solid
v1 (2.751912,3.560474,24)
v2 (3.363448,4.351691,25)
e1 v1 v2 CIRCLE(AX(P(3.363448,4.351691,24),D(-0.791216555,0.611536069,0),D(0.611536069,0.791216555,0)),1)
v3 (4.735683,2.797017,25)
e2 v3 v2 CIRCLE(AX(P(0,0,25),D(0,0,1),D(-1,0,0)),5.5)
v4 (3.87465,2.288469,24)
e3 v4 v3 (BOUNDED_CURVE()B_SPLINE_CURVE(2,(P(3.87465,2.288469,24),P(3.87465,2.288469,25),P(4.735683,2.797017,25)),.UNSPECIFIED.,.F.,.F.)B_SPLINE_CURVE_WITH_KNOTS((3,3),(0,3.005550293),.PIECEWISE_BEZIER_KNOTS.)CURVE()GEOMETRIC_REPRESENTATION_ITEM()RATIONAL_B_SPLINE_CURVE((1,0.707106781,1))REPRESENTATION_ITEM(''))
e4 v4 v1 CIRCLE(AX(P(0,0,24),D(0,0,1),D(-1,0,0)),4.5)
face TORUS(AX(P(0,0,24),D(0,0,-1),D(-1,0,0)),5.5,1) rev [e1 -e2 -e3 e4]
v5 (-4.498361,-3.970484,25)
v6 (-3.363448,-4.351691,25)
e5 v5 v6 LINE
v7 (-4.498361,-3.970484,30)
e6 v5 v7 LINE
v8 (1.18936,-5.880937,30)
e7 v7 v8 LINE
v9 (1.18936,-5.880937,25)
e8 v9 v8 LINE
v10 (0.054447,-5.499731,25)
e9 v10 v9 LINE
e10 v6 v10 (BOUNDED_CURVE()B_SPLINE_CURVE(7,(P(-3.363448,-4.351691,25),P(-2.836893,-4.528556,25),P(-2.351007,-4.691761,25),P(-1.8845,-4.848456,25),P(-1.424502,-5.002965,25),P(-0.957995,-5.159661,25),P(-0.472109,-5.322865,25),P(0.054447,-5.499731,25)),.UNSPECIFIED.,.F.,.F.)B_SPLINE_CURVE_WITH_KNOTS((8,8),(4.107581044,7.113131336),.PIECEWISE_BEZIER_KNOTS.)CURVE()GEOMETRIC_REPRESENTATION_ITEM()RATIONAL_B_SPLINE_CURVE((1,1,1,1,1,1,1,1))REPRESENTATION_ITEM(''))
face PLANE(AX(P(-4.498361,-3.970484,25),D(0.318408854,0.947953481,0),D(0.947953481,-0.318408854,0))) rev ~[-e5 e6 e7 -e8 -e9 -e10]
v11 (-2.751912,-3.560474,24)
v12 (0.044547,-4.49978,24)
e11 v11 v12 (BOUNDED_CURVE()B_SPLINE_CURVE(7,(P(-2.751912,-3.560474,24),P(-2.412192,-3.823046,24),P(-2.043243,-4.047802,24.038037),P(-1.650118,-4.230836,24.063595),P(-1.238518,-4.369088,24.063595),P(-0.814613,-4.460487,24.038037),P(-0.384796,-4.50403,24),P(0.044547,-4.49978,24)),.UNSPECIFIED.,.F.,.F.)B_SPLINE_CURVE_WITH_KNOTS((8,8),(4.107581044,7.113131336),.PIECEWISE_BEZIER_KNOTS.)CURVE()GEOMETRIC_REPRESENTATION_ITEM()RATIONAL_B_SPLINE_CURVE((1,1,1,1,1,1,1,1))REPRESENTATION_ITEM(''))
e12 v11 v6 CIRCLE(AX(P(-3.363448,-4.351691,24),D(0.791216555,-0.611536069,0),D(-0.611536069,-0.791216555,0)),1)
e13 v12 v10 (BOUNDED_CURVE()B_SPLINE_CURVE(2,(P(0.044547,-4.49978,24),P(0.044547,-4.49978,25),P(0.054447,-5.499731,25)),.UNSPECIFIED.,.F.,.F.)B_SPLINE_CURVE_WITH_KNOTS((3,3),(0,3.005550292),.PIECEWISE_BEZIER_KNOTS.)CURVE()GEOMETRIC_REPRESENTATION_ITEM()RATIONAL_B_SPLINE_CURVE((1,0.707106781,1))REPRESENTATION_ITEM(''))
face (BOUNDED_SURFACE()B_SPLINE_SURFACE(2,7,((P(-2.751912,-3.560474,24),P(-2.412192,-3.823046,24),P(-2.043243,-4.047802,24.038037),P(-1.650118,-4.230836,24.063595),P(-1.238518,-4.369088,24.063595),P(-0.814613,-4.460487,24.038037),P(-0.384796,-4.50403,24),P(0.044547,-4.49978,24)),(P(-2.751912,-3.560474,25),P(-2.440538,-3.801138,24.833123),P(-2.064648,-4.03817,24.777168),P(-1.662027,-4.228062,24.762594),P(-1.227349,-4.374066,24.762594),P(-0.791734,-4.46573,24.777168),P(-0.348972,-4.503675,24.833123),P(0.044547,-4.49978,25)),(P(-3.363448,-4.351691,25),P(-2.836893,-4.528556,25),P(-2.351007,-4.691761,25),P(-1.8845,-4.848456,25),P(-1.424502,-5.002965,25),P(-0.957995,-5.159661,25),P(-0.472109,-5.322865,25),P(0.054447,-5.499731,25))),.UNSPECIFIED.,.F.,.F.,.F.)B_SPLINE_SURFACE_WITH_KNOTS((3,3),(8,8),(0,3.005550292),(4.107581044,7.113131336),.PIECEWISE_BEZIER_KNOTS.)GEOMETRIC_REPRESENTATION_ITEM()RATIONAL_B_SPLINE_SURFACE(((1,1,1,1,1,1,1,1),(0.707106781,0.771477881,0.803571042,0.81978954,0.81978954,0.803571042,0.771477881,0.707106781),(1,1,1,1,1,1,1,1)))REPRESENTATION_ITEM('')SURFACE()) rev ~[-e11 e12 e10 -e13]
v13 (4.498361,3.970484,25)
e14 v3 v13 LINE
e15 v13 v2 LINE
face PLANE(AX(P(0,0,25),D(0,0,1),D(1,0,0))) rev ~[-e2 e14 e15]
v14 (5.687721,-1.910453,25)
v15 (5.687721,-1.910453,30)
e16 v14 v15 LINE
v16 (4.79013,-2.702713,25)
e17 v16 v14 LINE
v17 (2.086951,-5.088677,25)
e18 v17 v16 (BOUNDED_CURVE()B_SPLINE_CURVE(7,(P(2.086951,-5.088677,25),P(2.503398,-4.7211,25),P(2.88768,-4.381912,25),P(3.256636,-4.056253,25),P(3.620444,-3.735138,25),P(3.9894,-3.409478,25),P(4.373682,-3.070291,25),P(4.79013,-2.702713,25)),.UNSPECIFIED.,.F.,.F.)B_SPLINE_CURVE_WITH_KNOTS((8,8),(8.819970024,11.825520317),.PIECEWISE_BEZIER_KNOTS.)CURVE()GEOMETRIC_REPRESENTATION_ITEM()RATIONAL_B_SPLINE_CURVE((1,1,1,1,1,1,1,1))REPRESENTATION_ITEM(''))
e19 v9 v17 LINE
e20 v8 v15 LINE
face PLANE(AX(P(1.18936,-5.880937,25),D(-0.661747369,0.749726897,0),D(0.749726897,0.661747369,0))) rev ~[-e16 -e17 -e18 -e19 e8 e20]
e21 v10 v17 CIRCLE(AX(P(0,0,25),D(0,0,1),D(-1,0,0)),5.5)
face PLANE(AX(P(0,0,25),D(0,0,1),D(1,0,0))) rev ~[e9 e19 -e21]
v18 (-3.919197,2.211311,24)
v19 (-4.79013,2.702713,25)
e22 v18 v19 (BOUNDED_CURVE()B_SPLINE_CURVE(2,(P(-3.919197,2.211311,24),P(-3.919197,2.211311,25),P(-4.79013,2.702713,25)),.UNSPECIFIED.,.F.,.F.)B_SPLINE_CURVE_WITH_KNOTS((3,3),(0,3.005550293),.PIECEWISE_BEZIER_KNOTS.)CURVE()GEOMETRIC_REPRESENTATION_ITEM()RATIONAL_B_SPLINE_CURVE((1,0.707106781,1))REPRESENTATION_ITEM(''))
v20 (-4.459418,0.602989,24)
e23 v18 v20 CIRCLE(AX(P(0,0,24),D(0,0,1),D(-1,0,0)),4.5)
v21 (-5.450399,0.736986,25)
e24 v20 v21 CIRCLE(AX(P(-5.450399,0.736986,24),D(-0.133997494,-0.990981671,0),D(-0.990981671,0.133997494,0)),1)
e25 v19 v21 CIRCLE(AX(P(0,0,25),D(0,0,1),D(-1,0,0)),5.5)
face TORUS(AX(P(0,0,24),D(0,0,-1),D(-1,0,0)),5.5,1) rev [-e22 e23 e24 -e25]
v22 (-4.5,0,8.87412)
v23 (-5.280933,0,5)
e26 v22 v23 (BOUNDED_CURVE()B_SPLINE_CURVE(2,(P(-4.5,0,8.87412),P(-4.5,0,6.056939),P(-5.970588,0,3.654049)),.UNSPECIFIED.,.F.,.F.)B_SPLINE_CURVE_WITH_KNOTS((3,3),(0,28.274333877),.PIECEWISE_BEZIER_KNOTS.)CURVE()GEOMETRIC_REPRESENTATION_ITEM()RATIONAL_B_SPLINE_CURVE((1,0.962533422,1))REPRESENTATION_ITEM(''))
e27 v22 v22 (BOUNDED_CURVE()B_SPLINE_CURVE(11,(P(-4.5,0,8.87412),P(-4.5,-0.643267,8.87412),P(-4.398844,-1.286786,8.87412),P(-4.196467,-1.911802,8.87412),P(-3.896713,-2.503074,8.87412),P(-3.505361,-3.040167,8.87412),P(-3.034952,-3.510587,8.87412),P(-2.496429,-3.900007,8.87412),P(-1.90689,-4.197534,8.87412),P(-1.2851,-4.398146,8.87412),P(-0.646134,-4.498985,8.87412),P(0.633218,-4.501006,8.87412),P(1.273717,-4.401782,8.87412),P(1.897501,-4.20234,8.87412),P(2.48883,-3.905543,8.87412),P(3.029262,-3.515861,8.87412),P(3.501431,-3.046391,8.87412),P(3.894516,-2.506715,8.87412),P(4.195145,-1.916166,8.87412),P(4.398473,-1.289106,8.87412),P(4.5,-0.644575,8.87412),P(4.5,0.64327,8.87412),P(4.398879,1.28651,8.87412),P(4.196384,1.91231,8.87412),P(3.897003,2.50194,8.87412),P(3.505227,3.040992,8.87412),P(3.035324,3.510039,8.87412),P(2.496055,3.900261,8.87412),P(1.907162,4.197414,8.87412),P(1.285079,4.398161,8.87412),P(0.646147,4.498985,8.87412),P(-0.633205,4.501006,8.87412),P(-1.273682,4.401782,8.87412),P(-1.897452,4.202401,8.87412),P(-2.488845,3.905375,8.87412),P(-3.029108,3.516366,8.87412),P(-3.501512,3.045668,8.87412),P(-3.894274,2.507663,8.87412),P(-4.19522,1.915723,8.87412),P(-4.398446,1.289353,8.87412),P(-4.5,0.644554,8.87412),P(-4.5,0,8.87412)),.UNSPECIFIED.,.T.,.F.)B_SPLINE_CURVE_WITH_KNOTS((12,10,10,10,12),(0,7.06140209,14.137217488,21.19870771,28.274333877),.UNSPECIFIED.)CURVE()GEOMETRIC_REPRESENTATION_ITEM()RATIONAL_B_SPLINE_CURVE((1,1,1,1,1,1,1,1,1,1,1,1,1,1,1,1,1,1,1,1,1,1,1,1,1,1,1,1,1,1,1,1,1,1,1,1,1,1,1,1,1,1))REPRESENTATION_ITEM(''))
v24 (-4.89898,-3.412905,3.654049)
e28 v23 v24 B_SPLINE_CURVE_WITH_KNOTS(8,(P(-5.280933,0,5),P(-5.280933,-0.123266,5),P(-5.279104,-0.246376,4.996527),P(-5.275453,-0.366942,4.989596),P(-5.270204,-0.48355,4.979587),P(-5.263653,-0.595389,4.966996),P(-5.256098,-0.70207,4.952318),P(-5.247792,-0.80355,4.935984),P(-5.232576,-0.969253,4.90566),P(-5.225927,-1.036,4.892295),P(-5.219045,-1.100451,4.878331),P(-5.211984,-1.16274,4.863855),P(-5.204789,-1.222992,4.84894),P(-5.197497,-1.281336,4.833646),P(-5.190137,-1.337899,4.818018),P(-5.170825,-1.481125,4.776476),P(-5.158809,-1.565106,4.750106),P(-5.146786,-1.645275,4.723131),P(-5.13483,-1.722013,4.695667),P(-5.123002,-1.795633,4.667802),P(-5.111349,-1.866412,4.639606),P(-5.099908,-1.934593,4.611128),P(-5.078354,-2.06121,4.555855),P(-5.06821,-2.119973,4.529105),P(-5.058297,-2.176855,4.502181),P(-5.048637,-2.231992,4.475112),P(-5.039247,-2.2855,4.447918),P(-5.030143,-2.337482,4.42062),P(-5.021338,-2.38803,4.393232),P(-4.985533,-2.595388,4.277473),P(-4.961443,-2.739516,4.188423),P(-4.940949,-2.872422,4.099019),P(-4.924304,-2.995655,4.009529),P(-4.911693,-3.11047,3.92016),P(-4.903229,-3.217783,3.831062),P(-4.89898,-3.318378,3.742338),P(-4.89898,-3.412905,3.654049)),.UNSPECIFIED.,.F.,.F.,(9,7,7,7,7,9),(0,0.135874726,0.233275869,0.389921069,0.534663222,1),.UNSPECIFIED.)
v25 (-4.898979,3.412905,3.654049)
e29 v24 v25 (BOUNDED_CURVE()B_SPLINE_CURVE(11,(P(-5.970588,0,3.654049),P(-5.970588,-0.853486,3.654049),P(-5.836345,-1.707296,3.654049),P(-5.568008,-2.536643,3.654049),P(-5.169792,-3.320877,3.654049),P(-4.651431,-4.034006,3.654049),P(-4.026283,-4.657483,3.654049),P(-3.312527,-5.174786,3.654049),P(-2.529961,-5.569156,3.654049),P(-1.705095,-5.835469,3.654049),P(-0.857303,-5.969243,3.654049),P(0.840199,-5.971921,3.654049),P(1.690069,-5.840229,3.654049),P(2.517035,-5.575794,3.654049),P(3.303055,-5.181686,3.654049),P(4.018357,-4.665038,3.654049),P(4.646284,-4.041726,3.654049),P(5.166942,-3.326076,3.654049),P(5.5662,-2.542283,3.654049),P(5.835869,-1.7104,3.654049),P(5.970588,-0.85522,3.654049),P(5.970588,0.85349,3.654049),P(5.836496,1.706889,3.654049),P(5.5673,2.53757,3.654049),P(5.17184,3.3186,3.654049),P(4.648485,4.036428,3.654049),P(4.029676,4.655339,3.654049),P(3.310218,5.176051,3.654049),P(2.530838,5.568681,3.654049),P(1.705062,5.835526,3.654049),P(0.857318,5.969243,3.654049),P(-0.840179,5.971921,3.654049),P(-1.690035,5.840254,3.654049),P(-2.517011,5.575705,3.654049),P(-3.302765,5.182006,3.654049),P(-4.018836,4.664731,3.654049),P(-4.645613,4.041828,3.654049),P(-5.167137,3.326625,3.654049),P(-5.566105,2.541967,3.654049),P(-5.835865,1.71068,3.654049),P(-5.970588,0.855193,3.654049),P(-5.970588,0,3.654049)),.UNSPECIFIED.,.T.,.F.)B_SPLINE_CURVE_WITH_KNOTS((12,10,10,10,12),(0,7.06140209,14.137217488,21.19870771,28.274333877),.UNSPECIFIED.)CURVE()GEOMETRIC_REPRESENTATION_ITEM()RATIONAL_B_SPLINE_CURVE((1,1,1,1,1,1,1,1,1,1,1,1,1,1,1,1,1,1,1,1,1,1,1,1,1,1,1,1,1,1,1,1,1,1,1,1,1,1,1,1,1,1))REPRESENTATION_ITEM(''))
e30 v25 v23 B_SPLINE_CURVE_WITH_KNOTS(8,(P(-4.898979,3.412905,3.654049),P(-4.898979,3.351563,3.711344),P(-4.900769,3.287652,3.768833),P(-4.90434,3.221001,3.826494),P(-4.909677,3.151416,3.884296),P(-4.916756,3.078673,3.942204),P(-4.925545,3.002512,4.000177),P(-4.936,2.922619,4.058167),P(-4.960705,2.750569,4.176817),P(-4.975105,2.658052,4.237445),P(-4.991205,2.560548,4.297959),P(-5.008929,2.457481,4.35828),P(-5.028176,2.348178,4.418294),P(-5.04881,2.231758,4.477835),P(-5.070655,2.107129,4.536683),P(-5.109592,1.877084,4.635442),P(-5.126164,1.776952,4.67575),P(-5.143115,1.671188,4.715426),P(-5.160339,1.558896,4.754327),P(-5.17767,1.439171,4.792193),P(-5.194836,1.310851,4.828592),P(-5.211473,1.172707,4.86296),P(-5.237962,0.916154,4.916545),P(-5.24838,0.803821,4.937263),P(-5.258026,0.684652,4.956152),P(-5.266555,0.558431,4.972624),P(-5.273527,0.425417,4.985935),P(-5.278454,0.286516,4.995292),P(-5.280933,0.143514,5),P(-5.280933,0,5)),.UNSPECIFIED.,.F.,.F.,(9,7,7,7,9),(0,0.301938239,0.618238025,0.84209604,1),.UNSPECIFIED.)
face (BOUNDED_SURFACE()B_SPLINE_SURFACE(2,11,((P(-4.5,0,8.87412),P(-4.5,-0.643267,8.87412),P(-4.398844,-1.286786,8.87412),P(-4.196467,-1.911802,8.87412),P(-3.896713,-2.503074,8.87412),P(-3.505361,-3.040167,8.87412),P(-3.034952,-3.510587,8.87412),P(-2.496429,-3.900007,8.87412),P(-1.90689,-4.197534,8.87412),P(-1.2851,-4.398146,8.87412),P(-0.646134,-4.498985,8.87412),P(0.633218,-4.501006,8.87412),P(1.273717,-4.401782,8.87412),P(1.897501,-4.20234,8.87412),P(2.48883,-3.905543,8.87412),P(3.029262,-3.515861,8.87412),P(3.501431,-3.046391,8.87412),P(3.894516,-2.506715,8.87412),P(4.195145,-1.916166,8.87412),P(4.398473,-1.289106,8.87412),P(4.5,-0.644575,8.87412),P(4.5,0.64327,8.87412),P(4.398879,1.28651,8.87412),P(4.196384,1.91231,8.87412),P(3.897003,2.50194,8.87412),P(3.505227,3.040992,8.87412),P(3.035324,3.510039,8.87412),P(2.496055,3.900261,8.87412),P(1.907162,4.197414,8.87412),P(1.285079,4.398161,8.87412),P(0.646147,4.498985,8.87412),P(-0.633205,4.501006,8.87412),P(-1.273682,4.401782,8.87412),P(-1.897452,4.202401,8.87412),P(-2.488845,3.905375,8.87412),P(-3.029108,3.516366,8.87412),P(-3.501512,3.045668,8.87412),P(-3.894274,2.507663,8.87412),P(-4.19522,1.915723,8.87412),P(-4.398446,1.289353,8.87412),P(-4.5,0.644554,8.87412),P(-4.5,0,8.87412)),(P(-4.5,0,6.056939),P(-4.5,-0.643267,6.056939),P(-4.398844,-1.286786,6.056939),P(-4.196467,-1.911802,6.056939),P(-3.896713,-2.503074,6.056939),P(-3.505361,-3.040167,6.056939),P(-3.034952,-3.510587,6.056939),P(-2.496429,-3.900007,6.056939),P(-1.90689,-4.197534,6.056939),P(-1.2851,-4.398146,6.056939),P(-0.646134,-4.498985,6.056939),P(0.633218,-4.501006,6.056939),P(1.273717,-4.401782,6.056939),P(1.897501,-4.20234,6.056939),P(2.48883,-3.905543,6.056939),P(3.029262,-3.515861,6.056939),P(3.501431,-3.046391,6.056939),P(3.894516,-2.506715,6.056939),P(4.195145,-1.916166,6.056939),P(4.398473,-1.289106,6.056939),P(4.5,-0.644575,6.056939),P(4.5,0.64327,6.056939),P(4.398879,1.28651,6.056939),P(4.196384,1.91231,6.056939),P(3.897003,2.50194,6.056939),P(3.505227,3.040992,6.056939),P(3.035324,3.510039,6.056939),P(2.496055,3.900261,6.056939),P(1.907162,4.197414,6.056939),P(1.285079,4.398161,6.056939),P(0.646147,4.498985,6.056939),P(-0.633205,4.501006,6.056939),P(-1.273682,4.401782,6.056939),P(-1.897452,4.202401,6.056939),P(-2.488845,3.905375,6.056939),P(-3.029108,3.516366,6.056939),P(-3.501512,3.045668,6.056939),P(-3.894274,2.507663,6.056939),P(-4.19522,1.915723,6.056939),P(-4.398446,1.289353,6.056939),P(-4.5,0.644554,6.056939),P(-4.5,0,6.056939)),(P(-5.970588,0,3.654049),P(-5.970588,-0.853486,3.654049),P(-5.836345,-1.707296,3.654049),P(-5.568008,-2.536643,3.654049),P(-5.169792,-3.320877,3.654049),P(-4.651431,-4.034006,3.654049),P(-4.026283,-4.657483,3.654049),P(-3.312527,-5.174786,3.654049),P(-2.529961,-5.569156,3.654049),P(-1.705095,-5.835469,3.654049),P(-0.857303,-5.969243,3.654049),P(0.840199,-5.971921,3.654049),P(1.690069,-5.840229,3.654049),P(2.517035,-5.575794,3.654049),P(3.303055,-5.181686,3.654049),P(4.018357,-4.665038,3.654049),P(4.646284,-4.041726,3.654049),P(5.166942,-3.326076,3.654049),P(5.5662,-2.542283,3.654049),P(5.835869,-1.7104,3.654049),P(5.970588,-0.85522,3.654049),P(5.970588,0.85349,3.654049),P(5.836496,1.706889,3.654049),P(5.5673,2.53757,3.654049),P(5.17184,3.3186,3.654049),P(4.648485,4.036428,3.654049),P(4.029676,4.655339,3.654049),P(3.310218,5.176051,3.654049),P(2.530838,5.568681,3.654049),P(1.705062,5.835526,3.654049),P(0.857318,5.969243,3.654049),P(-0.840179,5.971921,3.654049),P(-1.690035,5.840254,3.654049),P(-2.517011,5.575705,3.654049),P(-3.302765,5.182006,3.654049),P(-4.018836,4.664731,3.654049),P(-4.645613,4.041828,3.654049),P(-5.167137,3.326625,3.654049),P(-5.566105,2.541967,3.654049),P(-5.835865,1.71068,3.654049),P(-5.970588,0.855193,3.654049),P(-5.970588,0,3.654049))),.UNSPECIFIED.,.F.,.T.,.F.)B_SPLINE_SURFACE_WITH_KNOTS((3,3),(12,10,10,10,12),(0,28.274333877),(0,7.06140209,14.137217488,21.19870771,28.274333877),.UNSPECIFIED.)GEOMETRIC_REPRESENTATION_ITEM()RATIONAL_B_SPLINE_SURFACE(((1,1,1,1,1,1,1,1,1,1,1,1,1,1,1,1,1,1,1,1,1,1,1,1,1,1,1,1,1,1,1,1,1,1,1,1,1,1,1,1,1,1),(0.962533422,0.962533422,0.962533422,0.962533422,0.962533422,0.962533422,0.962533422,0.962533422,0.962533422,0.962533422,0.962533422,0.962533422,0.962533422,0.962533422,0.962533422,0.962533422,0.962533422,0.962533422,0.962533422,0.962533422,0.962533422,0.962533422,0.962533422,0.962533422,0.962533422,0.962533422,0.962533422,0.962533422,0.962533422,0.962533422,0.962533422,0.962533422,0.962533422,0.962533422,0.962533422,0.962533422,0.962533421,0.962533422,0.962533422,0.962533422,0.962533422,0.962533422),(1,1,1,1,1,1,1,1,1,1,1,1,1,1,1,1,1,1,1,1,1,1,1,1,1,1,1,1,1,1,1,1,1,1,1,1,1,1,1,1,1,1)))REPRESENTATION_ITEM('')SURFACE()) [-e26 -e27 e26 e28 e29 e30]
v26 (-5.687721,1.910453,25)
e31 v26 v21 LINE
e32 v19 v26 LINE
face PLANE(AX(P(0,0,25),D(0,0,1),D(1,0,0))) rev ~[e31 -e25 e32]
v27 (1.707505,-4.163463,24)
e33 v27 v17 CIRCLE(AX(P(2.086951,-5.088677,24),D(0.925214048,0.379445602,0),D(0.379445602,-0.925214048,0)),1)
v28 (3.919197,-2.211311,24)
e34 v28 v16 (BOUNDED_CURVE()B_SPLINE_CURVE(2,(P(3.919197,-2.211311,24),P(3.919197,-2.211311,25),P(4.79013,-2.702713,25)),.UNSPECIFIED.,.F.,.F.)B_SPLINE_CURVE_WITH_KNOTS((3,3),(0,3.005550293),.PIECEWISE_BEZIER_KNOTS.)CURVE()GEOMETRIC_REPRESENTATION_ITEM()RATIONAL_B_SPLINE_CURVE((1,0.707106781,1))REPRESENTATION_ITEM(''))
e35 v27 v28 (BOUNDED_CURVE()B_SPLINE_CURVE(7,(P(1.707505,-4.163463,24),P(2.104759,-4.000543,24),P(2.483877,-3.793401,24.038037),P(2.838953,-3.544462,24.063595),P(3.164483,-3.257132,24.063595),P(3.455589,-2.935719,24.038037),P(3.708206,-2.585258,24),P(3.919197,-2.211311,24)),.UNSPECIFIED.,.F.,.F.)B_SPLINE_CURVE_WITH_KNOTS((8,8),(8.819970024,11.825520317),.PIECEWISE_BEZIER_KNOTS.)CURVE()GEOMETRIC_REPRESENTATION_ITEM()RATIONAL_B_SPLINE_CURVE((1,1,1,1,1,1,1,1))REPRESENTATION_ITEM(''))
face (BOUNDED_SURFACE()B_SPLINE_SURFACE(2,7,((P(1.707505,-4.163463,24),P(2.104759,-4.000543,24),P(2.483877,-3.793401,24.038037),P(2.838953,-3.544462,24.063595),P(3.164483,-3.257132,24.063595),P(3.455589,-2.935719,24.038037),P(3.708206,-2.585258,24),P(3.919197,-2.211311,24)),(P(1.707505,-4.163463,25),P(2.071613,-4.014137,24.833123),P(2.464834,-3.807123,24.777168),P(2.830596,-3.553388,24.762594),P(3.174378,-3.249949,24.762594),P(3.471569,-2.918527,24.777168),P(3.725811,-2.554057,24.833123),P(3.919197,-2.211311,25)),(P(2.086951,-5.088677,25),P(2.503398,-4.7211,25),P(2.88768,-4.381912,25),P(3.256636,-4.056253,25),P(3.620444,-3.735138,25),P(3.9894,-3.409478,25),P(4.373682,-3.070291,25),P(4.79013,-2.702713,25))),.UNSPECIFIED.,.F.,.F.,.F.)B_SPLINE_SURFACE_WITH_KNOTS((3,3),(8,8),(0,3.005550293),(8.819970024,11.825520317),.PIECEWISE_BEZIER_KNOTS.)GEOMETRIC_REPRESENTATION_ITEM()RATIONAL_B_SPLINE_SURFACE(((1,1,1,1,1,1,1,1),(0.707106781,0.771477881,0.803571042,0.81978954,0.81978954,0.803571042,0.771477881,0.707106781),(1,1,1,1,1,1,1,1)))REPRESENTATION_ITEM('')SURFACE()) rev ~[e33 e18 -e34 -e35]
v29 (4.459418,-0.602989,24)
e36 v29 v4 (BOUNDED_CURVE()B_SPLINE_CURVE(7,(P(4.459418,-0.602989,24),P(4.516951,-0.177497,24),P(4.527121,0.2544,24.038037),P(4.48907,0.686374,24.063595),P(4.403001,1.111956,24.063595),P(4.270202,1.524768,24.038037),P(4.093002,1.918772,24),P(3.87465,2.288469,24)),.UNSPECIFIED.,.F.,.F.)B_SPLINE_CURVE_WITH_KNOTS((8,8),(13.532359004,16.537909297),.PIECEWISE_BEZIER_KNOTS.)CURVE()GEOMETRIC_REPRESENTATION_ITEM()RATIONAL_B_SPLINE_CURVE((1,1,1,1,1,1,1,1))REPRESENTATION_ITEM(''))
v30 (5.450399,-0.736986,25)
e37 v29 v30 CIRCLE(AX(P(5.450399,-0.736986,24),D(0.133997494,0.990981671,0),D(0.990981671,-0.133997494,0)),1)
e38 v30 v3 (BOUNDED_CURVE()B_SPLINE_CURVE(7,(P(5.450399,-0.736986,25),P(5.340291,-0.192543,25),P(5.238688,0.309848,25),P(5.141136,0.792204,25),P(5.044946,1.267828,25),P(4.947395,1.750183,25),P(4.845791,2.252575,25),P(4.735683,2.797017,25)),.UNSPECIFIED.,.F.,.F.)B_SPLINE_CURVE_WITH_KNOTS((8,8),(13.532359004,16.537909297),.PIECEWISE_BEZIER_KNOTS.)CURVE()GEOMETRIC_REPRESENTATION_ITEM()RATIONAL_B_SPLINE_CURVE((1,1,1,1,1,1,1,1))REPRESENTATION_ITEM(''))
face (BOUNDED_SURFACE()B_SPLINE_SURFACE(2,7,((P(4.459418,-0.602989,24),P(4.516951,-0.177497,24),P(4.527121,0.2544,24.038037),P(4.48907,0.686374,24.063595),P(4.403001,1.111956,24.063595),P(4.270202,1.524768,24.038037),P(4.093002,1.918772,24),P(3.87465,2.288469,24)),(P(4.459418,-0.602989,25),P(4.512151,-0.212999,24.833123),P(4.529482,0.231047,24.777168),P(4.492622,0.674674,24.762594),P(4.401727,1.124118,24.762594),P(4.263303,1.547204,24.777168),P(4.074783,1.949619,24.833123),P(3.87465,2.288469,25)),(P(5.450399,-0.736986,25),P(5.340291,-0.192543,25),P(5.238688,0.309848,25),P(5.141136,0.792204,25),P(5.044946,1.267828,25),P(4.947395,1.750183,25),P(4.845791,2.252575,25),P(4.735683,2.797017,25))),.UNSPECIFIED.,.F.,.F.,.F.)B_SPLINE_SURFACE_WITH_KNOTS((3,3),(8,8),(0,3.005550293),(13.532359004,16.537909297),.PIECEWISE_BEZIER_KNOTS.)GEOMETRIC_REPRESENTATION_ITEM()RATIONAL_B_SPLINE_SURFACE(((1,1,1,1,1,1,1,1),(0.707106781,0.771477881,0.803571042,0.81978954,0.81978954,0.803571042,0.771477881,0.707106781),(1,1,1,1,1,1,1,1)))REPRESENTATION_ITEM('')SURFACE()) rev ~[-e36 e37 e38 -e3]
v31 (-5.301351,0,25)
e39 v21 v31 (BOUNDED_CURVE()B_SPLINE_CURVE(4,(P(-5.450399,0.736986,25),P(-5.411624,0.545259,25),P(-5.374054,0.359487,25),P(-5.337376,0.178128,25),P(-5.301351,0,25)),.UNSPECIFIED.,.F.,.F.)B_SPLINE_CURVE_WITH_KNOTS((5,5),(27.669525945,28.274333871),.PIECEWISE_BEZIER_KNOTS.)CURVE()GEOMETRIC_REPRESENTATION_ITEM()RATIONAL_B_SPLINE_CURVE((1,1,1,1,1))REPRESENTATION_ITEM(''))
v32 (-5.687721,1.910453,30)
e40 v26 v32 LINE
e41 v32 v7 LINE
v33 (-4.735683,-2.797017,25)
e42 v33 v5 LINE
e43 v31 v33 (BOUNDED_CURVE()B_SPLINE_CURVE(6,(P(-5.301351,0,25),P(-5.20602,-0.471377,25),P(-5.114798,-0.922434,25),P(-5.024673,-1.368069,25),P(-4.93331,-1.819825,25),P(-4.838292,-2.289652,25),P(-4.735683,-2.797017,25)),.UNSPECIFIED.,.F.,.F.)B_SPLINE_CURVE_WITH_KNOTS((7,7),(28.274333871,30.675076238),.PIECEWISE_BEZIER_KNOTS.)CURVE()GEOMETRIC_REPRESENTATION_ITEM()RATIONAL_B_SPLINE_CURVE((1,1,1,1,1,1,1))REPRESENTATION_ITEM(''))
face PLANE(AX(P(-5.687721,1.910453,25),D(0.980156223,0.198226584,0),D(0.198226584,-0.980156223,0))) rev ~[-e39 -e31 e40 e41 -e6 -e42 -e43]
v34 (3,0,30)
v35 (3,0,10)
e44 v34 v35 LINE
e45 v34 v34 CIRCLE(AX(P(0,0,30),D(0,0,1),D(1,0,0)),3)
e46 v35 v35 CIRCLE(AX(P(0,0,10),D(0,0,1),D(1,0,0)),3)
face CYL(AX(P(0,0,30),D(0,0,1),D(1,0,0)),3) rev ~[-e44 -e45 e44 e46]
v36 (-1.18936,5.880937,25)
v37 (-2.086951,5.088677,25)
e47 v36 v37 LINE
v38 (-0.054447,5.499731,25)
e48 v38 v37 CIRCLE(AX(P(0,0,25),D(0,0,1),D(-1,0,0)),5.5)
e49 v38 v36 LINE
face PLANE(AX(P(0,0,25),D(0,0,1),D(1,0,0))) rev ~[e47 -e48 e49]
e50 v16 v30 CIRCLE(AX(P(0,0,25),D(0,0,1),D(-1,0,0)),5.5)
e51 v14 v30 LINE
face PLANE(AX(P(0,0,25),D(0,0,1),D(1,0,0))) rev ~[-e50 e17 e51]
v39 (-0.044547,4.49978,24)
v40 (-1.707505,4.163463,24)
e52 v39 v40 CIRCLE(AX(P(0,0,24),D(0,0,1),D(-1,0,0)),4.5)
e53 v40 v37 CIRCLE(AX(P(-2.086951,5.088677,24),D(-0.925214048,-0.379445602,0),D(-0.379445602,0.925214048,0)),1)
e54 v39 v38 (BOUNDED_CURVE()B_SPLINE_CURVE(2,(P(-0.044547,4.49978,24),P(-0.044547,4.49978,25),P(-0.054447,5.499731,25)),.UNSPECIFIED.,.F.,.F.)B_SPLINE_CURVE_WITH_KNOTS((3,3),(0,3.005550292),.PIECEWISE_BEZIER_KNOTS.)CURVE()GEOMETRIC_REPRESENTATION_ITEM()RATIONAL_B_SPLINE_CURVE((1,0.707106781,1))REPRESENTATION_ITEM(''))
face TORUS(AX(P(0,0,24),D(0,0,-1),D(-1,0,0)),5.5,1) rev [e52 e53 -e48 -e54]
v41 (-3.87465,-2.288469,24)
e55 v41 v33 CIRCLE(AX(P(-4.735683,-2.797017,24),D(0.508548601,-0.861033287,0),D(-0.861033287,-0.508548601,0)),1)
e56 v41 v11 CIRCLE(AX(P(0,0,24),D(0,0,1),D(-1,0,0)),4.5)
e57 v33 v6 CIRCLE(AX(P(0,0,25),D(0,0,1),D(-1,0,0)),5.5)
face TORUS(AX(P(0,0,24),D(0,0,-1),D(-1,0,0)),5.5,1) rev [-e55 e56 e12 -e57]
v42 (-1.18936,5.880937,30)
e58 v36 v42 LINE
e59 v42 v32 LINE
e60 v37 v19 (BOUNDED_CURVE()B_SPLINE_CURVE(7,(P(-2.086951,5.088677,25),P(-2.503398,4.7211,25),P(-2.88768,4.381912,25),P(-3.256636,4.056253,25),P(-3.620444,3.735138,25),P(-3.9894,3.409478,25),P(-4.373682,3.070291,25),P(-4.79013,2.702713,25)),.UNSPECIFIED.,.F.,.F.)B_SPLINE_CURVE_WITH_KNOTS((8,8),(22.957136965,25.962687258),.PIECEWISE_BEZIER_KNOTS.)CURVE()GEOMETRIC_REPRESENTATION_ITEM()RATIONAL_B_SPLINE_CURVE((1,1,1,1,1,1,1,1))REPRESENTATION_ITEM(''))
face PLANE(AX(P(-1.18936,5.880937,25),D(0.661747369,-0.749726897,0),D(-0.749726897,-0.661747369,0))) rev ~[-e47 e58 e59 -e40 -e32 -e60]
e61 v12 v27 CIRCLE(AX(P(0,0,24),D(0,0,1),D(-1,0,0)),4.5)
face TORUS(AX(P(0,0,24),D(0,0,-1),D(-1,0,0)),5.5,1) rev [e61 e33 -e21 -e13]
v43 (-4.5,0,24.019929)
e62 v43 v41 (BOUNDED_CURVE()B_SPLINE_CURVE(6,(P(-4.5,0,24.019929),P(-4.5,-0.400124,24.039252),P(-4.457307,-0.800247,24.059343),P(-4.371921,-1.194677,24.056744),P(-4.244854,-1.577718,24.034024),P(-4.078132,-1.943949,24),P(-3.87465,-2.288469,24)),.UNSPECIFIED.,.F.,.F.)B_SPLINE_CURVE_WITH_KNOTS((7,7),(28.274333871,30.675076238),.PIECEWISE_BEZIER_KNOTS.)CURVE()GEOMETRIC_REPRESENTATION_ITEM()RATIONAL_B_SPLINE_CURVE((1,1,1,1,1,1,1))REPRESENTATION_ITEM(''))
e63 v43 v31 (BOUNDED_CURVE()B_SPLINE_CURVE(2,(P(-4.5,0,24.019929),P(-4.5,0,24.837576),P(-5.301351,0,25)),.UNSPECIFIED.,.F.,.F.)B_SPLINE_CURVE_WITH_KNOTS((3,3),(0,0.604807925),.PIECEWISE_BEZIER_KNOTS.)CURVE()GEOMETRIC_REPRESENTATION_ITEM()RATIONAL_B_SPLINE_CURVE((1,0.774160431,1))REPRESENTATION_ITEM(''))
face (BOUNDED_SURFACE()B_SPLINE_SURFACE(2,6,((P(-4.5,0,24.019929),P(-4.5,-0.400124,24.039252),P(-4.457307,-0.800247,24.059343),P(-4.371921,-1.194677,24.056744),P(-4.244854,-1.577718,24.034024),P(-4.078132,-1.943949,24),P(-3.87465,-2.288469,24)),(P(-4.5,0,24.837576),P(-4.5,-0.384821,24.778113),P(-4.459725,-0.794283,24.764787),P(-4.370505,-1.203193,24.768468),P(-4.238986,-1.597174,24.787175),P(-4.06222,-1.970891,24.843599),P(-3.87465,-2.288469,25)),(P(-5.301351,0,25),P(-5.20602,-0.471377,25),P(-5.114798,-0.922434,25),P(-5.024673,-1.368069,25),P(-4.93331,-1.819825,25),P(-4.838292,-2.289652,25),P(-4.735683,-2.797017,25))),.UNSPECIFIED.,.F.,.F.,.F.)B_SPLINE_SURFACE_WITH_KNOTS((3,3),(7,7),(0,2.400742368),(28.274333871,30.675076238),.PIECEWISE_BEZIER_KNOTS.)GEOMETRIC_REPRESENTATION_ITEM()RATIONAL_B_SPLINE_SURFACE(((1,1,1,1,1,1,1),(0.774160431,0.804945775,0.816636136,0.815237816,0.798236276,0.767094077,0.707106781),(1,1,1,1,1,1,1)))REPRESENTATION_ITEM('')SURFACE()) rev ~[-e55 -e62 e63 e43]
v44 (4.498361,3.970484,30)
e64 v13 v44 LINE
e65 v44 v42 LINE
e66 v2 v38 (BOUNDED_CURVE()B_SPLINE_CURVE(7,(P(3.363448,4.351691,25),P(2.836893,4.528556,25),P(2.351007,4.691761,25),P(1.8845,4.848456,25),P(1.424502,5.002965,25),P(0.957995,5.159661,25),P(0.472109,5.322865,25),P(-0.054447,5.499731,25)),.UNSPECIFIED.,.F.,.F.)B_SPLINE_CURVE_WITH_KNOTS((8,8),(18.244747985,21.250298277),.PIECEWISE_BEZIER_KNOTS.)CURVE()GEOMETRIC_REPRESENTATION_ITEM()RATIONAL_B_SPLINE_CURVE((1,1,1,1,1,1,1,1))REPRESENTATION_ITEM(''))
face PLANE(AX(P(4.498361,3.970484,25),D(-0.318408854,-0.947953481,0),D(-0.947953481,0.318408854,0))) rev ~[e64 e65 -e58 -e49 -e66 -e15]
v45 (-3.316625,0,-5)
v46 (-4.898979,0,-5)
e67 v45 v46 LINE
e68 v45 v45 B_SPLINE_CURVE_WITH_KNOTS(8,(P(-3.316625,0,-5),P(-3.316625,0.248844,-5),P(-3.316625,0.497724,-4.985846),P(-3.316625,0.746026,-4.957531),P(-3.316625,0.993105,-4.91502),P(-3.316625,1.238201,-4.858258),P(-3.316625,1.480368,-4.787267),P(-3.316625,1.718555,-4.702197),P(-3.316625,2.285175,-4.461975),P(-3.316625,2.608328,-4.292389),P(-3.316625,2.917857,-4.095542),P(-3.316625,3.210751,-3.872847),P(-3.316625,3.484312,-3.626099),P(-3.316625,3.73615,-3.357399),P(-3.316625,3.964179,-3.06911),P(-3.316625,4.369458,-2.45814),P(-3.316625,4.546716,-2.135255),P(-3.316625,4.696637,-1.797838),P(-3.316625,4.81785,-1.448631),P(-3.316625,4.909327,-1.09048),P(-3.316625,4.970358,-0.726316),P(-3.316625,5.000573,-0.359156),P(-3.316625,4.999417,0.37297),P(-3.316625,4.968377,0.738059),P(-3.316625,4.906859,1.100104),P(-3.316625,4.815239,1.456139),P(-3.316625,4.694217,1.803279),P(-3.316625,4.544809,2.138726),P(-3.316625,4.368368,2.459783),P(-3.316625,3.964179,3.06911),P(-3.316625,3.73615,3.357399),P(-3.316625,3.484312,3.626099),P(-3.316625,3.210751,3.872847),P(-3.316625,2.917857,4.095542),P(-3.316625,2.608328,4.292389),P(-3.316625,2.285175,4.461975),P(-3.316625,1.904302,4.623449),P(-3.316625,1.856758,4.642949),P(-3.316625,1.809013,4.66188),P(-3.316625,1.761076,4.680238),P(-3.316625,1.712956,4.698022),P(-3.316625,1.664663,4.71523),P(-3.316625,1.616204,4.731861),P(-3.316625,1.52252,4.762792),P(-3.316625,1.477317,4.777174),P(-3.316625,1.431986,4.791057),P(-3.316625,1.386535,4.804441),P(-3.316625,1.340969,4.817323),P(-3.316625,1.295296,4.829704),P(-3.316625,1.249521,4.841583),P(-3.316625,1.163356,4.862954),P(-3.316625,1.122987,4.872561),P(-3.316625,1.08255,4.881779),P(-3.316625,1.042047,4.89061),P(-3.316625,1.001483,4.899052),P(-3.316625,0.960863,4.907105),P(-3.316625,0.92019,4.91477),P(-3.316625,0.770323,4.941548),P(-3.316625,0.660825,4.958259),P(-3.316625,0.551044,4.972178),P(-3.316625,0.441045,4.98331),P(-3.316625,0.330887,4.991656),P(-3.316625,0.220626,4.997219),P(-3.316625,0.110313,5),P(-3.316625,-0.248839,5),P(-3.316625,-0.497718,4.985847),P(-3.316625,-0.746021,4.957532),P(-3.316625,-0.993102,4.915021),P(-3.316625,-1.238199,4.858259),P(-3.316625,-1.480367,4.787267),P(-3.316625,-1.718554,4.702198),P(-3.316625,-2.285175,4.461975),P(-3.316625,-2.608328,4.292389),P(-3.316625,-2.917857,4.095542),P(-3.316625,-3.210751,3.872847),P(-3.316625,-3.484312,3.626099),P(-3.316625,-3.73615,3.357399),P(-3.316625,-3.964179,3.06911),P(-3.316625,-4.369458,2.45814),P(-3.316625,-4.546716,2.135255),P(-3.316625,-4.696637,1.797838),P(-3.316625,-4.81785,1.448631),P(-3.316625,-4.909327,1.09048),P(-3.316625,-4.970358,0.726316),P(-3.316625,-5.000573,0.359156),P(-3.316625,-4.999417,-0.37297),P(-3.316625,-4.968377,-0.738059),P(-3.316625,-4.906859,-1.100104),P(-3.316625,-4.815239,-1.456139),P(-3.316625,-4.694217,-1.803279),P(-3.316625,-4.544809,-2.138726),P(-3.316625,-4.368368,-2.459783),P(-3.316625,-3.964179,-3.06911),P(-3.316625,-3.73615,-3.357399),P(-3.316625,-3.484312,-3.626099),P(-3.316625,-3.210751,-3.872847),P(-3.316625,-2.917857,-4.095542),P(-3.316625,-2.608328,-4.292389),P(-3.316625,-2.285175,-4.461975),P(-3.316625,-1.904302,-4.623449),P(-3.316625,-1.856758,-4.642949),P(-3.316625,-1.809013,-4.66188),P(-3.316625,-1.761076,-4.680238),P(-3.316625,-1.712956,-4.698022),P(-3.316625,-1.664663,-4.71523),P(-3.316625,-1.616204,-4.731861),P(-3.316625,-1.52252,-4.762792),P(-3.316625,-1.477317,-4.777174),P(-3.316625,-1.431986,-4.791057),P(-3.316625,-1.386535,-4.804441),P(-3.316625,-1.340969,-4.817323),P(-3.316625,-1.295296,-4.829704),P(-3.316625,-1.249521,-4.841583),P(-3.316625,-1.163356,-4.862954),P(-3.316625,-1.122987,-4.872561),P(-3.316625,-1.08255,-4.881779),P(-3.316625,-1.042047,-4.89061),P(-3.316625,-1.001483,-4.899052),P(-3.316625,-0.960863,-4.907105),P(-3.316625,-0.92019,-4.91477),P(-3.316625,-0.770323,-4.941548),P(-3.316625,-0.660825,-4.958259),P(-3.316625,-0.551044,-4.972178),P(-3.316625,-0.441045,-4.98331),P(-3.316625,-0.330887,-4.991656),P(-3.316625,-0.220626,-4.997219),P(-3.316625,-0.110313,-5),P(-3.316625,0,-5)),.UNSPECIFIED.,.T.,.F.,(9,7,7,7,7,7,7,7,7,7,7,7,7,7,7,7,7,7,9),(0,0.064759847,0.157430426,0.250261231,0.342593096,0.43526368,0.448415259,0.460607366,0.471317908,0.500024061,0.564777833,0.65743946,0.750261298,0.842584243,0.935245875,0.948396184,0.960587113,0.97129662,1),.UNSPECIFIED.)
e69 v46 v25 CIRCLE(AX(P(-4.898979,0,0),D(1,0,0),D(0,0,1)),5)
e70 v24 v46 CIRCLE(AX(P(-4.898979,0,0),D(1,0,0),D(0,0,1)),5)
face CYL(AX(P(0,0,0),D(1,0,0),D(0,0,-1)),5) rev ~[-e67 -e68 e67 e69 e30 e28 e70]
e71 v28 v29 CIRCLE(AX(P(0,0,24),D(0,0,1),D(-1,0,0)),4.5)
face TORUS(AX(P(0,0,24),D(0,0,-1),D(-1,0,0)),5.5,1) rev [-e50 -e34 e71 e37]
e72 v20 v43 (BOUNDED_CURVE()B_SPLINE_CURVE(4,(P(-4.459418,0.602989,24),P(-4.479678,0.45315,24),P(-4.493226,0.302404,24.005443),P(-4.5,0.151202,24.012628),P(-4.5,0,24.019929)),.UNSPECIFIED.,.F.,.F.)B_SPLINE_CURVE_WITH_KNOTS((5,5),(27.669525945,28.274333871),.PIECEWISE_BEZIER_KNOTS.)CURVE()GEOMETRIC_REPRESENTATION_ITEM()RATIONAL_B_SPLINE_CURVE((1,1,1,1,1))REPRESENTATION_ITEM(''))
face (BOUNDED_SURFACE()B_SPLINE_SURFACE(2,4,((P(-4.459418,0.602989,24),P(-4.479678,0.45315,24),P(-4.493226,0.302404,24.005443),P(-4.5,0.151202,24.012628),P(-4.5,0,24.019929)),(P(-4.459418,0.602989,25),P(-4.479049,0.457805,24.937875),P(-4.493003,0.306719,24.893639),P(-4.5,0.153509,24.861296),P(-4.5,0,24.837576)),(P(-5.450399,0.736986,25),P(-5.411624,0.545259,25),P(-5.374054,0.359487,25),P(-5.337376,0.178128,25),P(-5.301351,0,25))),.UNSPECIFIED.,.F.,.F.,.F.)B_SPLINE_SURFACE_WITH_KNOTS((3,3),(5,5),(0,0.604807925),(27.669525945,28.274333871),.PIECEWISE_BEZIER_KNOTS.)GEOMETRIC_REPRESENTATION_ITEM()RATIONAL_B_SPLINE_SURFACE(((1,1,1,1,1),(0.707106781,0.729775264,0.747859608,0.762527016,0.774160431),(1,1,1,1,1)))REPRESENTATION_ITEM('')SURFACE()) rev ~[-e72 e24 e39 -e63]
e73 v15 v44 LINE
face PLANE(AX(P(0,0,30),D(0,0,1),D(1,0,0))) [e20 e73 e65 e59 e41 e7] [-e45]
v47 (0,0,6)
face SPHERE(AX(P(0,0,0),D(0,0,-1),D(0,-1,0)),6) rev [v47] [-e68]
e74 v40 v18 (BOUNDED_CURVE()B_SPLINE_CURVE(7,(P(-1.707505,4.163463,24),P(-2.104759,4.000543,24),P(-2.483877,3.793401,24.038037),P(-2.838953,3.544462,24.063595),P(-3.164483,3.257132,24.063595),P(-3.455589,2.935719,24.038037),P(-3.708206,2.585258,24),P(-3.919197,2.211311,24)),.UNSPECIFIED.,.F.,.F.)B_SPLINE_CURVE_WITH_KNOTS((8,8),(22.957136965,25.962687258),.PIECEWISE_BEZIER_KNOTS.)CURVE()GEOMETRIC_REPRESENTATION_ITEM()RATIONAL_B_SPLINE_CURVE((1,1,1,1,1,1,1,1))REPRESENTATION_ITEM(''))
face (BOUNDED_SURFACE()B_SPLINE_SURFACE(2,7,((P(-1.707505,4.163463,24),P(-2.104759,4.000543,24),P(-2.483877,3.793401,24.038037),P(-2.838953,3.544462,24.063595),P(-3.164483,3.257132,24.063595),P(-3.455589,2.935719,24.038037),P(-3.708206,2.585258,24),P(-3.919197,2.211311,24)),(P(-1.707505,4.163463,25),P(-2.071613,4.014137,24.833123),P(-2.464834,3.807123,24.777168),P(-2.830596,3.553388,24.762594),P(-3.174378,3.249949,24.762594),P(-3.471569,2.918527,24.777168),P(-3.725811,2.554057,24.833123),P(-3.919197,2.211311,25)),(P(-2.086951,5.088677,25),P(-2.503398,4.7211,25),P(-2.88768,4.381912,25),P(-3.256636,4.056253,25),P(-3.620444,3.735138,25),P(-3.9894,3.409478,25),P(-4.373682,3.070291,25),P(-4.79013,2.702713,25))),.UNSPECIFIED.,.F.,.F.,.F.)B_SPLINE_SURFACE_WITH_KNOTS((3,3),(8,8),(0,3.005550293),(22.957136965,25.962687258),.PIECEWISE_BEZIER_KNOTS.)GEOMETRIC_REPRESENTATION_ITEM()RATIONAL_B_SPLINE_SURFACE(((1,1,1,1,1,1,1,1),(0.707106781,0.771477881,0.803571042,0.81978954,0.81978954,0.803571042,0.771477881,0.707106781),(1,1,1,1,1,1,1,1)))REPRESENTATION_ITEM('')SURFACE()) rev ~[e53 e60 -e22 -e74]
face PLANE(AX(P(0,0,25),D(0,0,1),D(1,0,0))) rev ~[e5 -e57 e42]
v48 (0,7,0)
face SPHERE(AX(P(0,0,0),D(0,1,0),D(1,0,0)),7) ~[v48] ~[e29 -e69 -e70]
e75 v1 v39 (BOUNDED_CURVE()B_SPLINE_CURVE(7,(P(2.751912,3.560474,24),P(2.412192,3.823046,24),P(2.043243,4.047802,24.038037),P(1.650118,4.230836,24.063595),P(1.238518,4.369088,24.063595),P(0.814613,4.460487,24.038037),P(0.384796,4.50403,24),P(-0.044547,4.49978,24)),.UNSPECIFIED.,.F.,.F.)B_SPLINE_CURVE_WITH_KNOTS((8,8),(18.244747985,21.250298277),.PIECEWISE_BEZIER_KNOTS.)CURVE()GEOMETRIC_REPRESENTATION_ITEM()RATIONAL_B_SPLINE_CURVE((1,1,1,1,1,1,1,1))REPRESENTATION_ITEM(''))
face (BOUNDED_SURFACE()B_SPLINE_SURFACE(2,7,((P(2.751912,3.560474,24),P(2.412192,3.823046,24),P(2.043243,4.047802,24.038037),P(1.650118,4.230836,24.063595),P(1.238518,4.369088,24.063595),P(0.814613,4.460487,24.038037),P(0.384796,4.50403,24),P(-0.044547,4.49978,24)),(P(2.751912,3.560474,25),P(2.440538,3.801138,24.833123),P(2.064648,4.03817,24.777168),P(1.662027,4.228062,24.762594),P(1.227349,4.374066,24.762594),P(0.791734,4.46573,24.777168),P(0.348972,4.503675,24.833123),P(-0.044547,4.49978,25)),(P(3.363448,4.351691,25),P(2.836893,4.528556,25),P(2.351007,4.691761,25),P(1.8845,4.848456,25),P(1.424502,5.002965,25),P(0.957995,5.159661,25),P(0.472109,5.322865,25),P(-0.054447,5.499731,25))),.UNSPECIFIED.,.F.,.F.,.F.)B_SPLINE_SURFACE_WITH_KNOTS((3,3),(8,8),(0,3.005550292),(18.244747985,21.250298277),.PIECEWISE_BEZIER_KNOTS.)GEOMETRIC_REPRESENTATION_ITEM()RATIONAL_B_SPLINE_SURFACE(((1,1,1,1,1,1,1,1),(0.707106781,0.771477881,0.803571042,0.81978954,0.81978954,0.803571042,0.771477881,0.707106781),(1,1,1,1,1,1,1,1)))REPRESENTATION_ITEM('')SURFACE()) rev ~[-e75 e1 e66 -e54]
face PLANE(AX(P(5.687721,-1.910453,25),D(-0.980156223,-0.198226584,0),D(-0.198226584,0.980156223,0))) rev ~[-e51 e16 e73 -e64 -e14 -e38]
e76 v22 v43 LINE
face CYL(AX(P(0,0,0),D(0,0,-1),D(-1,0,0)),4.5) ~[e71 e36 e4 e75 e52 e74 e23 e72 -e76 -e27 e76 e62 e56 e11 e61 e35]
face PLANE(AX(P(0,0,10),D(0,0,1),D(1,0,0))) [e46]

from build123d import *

# Parameters (mm, degrees)
SKETCH2_R           = 4.5
BOSS_EXTRUDE1_DEPTH = 25
BOSS_EXTRUDE2_DEPTH = 5
SKETCH4_R           = 3
CUT_EXTRUDE1_DEPTH  = 20
FILLET1_R           = 10
FILLET3_R           = 1
SKETCH6_R           = 5
CUT_EXTRUDE2_DEPTH  = 20


with BuildPart() as part:
    # Sketch1 → Revolve1 (revolve)
    with BuildSketch(Plane.XY):
        with BuildLine():
            Line((0, 7), (0, -7))
            ThreePointArc((0, -7), (7, 0), (0, 7))
        make_face()
    revolve(axis=Axis((0, 7, 0), (0, -1, 0)))

    # Sketch2 → Boss-Extrude1 (add)
    with BuildSketch(Plane.XY):
        with Locations(Location((0, 0, 0), (0, 0, 180))):
            Circle(SKETCH2_R)
    extrude(amount=BOSS_EXTRUDE1_DEPTH)

    # Sketch3 → Boss-Extrude2 (add)
    with BuildSketch(Plane.XY.offset(25)):
        Polygon((5.687720884, -1.910453125), (4.498361381, 3.970484213), (-1.189359503, 5.880937338), (-5.687720884, 1.910453125), (-4.498361381, -3.970484213), (1.189359503, -5.880937338), align=None)
    extrude(amount=BOSS_EXTRUDE2_DEPTH)

    # Sketch4 → Cut-Extrude1 (cut)
    with BuildSketch(Plane.XY.offset(30)):
        Circle(SKETCH4_R)
    extrude(amount=-CUT_EXTRUDE1_DEPTH, mode=Mode.SUBTRACT)

    # Fillet1
    fillet1_edges = [part.edges().sort_by_distance(p)[0] for p in [
        (4.5, 0, 5.361902647),
    ]]
    fillet(fillet1_edges, radius=FILLET1_R)

    # Fillet3
    fillet3_edges = [part.edges().sort_by_distance(p)[0] for p in [
        (4.5, 0, 25),
    ]]
    fillet(fillet3_edges, radius=FILLET3_R)

    # Sketch5 → Cut-Revolve1 (revolve, cut)
    with BuildSketch(Plane(origin=(0, 0, 0), x_dir=(0, 0, -1), z_dir=(1, 0, 0))):
        with BuildLine():
            Line((6, 0), (-6, 0))
            ThreePointArc((-6, 0), (0, -6), (6, 0))
        make_face()
    revolve(axis=Axis((0, 0, -6), (0, 0, 1)), mode=Mode.SUBTRACT)

    # Sketch6 → Cut-Extrude2 (cut)
    with BuildSketch(Plane(origin=(0, 0, 0), x_dir=(0, 0, -1), z_dir=(1, 0, 0))):
        Circle(SKETCH6_R)
    extrude(amount=-CUT_EXTRUDE2_DEPTH, mode=Mode.SUBTRACT)


solid = part.part
